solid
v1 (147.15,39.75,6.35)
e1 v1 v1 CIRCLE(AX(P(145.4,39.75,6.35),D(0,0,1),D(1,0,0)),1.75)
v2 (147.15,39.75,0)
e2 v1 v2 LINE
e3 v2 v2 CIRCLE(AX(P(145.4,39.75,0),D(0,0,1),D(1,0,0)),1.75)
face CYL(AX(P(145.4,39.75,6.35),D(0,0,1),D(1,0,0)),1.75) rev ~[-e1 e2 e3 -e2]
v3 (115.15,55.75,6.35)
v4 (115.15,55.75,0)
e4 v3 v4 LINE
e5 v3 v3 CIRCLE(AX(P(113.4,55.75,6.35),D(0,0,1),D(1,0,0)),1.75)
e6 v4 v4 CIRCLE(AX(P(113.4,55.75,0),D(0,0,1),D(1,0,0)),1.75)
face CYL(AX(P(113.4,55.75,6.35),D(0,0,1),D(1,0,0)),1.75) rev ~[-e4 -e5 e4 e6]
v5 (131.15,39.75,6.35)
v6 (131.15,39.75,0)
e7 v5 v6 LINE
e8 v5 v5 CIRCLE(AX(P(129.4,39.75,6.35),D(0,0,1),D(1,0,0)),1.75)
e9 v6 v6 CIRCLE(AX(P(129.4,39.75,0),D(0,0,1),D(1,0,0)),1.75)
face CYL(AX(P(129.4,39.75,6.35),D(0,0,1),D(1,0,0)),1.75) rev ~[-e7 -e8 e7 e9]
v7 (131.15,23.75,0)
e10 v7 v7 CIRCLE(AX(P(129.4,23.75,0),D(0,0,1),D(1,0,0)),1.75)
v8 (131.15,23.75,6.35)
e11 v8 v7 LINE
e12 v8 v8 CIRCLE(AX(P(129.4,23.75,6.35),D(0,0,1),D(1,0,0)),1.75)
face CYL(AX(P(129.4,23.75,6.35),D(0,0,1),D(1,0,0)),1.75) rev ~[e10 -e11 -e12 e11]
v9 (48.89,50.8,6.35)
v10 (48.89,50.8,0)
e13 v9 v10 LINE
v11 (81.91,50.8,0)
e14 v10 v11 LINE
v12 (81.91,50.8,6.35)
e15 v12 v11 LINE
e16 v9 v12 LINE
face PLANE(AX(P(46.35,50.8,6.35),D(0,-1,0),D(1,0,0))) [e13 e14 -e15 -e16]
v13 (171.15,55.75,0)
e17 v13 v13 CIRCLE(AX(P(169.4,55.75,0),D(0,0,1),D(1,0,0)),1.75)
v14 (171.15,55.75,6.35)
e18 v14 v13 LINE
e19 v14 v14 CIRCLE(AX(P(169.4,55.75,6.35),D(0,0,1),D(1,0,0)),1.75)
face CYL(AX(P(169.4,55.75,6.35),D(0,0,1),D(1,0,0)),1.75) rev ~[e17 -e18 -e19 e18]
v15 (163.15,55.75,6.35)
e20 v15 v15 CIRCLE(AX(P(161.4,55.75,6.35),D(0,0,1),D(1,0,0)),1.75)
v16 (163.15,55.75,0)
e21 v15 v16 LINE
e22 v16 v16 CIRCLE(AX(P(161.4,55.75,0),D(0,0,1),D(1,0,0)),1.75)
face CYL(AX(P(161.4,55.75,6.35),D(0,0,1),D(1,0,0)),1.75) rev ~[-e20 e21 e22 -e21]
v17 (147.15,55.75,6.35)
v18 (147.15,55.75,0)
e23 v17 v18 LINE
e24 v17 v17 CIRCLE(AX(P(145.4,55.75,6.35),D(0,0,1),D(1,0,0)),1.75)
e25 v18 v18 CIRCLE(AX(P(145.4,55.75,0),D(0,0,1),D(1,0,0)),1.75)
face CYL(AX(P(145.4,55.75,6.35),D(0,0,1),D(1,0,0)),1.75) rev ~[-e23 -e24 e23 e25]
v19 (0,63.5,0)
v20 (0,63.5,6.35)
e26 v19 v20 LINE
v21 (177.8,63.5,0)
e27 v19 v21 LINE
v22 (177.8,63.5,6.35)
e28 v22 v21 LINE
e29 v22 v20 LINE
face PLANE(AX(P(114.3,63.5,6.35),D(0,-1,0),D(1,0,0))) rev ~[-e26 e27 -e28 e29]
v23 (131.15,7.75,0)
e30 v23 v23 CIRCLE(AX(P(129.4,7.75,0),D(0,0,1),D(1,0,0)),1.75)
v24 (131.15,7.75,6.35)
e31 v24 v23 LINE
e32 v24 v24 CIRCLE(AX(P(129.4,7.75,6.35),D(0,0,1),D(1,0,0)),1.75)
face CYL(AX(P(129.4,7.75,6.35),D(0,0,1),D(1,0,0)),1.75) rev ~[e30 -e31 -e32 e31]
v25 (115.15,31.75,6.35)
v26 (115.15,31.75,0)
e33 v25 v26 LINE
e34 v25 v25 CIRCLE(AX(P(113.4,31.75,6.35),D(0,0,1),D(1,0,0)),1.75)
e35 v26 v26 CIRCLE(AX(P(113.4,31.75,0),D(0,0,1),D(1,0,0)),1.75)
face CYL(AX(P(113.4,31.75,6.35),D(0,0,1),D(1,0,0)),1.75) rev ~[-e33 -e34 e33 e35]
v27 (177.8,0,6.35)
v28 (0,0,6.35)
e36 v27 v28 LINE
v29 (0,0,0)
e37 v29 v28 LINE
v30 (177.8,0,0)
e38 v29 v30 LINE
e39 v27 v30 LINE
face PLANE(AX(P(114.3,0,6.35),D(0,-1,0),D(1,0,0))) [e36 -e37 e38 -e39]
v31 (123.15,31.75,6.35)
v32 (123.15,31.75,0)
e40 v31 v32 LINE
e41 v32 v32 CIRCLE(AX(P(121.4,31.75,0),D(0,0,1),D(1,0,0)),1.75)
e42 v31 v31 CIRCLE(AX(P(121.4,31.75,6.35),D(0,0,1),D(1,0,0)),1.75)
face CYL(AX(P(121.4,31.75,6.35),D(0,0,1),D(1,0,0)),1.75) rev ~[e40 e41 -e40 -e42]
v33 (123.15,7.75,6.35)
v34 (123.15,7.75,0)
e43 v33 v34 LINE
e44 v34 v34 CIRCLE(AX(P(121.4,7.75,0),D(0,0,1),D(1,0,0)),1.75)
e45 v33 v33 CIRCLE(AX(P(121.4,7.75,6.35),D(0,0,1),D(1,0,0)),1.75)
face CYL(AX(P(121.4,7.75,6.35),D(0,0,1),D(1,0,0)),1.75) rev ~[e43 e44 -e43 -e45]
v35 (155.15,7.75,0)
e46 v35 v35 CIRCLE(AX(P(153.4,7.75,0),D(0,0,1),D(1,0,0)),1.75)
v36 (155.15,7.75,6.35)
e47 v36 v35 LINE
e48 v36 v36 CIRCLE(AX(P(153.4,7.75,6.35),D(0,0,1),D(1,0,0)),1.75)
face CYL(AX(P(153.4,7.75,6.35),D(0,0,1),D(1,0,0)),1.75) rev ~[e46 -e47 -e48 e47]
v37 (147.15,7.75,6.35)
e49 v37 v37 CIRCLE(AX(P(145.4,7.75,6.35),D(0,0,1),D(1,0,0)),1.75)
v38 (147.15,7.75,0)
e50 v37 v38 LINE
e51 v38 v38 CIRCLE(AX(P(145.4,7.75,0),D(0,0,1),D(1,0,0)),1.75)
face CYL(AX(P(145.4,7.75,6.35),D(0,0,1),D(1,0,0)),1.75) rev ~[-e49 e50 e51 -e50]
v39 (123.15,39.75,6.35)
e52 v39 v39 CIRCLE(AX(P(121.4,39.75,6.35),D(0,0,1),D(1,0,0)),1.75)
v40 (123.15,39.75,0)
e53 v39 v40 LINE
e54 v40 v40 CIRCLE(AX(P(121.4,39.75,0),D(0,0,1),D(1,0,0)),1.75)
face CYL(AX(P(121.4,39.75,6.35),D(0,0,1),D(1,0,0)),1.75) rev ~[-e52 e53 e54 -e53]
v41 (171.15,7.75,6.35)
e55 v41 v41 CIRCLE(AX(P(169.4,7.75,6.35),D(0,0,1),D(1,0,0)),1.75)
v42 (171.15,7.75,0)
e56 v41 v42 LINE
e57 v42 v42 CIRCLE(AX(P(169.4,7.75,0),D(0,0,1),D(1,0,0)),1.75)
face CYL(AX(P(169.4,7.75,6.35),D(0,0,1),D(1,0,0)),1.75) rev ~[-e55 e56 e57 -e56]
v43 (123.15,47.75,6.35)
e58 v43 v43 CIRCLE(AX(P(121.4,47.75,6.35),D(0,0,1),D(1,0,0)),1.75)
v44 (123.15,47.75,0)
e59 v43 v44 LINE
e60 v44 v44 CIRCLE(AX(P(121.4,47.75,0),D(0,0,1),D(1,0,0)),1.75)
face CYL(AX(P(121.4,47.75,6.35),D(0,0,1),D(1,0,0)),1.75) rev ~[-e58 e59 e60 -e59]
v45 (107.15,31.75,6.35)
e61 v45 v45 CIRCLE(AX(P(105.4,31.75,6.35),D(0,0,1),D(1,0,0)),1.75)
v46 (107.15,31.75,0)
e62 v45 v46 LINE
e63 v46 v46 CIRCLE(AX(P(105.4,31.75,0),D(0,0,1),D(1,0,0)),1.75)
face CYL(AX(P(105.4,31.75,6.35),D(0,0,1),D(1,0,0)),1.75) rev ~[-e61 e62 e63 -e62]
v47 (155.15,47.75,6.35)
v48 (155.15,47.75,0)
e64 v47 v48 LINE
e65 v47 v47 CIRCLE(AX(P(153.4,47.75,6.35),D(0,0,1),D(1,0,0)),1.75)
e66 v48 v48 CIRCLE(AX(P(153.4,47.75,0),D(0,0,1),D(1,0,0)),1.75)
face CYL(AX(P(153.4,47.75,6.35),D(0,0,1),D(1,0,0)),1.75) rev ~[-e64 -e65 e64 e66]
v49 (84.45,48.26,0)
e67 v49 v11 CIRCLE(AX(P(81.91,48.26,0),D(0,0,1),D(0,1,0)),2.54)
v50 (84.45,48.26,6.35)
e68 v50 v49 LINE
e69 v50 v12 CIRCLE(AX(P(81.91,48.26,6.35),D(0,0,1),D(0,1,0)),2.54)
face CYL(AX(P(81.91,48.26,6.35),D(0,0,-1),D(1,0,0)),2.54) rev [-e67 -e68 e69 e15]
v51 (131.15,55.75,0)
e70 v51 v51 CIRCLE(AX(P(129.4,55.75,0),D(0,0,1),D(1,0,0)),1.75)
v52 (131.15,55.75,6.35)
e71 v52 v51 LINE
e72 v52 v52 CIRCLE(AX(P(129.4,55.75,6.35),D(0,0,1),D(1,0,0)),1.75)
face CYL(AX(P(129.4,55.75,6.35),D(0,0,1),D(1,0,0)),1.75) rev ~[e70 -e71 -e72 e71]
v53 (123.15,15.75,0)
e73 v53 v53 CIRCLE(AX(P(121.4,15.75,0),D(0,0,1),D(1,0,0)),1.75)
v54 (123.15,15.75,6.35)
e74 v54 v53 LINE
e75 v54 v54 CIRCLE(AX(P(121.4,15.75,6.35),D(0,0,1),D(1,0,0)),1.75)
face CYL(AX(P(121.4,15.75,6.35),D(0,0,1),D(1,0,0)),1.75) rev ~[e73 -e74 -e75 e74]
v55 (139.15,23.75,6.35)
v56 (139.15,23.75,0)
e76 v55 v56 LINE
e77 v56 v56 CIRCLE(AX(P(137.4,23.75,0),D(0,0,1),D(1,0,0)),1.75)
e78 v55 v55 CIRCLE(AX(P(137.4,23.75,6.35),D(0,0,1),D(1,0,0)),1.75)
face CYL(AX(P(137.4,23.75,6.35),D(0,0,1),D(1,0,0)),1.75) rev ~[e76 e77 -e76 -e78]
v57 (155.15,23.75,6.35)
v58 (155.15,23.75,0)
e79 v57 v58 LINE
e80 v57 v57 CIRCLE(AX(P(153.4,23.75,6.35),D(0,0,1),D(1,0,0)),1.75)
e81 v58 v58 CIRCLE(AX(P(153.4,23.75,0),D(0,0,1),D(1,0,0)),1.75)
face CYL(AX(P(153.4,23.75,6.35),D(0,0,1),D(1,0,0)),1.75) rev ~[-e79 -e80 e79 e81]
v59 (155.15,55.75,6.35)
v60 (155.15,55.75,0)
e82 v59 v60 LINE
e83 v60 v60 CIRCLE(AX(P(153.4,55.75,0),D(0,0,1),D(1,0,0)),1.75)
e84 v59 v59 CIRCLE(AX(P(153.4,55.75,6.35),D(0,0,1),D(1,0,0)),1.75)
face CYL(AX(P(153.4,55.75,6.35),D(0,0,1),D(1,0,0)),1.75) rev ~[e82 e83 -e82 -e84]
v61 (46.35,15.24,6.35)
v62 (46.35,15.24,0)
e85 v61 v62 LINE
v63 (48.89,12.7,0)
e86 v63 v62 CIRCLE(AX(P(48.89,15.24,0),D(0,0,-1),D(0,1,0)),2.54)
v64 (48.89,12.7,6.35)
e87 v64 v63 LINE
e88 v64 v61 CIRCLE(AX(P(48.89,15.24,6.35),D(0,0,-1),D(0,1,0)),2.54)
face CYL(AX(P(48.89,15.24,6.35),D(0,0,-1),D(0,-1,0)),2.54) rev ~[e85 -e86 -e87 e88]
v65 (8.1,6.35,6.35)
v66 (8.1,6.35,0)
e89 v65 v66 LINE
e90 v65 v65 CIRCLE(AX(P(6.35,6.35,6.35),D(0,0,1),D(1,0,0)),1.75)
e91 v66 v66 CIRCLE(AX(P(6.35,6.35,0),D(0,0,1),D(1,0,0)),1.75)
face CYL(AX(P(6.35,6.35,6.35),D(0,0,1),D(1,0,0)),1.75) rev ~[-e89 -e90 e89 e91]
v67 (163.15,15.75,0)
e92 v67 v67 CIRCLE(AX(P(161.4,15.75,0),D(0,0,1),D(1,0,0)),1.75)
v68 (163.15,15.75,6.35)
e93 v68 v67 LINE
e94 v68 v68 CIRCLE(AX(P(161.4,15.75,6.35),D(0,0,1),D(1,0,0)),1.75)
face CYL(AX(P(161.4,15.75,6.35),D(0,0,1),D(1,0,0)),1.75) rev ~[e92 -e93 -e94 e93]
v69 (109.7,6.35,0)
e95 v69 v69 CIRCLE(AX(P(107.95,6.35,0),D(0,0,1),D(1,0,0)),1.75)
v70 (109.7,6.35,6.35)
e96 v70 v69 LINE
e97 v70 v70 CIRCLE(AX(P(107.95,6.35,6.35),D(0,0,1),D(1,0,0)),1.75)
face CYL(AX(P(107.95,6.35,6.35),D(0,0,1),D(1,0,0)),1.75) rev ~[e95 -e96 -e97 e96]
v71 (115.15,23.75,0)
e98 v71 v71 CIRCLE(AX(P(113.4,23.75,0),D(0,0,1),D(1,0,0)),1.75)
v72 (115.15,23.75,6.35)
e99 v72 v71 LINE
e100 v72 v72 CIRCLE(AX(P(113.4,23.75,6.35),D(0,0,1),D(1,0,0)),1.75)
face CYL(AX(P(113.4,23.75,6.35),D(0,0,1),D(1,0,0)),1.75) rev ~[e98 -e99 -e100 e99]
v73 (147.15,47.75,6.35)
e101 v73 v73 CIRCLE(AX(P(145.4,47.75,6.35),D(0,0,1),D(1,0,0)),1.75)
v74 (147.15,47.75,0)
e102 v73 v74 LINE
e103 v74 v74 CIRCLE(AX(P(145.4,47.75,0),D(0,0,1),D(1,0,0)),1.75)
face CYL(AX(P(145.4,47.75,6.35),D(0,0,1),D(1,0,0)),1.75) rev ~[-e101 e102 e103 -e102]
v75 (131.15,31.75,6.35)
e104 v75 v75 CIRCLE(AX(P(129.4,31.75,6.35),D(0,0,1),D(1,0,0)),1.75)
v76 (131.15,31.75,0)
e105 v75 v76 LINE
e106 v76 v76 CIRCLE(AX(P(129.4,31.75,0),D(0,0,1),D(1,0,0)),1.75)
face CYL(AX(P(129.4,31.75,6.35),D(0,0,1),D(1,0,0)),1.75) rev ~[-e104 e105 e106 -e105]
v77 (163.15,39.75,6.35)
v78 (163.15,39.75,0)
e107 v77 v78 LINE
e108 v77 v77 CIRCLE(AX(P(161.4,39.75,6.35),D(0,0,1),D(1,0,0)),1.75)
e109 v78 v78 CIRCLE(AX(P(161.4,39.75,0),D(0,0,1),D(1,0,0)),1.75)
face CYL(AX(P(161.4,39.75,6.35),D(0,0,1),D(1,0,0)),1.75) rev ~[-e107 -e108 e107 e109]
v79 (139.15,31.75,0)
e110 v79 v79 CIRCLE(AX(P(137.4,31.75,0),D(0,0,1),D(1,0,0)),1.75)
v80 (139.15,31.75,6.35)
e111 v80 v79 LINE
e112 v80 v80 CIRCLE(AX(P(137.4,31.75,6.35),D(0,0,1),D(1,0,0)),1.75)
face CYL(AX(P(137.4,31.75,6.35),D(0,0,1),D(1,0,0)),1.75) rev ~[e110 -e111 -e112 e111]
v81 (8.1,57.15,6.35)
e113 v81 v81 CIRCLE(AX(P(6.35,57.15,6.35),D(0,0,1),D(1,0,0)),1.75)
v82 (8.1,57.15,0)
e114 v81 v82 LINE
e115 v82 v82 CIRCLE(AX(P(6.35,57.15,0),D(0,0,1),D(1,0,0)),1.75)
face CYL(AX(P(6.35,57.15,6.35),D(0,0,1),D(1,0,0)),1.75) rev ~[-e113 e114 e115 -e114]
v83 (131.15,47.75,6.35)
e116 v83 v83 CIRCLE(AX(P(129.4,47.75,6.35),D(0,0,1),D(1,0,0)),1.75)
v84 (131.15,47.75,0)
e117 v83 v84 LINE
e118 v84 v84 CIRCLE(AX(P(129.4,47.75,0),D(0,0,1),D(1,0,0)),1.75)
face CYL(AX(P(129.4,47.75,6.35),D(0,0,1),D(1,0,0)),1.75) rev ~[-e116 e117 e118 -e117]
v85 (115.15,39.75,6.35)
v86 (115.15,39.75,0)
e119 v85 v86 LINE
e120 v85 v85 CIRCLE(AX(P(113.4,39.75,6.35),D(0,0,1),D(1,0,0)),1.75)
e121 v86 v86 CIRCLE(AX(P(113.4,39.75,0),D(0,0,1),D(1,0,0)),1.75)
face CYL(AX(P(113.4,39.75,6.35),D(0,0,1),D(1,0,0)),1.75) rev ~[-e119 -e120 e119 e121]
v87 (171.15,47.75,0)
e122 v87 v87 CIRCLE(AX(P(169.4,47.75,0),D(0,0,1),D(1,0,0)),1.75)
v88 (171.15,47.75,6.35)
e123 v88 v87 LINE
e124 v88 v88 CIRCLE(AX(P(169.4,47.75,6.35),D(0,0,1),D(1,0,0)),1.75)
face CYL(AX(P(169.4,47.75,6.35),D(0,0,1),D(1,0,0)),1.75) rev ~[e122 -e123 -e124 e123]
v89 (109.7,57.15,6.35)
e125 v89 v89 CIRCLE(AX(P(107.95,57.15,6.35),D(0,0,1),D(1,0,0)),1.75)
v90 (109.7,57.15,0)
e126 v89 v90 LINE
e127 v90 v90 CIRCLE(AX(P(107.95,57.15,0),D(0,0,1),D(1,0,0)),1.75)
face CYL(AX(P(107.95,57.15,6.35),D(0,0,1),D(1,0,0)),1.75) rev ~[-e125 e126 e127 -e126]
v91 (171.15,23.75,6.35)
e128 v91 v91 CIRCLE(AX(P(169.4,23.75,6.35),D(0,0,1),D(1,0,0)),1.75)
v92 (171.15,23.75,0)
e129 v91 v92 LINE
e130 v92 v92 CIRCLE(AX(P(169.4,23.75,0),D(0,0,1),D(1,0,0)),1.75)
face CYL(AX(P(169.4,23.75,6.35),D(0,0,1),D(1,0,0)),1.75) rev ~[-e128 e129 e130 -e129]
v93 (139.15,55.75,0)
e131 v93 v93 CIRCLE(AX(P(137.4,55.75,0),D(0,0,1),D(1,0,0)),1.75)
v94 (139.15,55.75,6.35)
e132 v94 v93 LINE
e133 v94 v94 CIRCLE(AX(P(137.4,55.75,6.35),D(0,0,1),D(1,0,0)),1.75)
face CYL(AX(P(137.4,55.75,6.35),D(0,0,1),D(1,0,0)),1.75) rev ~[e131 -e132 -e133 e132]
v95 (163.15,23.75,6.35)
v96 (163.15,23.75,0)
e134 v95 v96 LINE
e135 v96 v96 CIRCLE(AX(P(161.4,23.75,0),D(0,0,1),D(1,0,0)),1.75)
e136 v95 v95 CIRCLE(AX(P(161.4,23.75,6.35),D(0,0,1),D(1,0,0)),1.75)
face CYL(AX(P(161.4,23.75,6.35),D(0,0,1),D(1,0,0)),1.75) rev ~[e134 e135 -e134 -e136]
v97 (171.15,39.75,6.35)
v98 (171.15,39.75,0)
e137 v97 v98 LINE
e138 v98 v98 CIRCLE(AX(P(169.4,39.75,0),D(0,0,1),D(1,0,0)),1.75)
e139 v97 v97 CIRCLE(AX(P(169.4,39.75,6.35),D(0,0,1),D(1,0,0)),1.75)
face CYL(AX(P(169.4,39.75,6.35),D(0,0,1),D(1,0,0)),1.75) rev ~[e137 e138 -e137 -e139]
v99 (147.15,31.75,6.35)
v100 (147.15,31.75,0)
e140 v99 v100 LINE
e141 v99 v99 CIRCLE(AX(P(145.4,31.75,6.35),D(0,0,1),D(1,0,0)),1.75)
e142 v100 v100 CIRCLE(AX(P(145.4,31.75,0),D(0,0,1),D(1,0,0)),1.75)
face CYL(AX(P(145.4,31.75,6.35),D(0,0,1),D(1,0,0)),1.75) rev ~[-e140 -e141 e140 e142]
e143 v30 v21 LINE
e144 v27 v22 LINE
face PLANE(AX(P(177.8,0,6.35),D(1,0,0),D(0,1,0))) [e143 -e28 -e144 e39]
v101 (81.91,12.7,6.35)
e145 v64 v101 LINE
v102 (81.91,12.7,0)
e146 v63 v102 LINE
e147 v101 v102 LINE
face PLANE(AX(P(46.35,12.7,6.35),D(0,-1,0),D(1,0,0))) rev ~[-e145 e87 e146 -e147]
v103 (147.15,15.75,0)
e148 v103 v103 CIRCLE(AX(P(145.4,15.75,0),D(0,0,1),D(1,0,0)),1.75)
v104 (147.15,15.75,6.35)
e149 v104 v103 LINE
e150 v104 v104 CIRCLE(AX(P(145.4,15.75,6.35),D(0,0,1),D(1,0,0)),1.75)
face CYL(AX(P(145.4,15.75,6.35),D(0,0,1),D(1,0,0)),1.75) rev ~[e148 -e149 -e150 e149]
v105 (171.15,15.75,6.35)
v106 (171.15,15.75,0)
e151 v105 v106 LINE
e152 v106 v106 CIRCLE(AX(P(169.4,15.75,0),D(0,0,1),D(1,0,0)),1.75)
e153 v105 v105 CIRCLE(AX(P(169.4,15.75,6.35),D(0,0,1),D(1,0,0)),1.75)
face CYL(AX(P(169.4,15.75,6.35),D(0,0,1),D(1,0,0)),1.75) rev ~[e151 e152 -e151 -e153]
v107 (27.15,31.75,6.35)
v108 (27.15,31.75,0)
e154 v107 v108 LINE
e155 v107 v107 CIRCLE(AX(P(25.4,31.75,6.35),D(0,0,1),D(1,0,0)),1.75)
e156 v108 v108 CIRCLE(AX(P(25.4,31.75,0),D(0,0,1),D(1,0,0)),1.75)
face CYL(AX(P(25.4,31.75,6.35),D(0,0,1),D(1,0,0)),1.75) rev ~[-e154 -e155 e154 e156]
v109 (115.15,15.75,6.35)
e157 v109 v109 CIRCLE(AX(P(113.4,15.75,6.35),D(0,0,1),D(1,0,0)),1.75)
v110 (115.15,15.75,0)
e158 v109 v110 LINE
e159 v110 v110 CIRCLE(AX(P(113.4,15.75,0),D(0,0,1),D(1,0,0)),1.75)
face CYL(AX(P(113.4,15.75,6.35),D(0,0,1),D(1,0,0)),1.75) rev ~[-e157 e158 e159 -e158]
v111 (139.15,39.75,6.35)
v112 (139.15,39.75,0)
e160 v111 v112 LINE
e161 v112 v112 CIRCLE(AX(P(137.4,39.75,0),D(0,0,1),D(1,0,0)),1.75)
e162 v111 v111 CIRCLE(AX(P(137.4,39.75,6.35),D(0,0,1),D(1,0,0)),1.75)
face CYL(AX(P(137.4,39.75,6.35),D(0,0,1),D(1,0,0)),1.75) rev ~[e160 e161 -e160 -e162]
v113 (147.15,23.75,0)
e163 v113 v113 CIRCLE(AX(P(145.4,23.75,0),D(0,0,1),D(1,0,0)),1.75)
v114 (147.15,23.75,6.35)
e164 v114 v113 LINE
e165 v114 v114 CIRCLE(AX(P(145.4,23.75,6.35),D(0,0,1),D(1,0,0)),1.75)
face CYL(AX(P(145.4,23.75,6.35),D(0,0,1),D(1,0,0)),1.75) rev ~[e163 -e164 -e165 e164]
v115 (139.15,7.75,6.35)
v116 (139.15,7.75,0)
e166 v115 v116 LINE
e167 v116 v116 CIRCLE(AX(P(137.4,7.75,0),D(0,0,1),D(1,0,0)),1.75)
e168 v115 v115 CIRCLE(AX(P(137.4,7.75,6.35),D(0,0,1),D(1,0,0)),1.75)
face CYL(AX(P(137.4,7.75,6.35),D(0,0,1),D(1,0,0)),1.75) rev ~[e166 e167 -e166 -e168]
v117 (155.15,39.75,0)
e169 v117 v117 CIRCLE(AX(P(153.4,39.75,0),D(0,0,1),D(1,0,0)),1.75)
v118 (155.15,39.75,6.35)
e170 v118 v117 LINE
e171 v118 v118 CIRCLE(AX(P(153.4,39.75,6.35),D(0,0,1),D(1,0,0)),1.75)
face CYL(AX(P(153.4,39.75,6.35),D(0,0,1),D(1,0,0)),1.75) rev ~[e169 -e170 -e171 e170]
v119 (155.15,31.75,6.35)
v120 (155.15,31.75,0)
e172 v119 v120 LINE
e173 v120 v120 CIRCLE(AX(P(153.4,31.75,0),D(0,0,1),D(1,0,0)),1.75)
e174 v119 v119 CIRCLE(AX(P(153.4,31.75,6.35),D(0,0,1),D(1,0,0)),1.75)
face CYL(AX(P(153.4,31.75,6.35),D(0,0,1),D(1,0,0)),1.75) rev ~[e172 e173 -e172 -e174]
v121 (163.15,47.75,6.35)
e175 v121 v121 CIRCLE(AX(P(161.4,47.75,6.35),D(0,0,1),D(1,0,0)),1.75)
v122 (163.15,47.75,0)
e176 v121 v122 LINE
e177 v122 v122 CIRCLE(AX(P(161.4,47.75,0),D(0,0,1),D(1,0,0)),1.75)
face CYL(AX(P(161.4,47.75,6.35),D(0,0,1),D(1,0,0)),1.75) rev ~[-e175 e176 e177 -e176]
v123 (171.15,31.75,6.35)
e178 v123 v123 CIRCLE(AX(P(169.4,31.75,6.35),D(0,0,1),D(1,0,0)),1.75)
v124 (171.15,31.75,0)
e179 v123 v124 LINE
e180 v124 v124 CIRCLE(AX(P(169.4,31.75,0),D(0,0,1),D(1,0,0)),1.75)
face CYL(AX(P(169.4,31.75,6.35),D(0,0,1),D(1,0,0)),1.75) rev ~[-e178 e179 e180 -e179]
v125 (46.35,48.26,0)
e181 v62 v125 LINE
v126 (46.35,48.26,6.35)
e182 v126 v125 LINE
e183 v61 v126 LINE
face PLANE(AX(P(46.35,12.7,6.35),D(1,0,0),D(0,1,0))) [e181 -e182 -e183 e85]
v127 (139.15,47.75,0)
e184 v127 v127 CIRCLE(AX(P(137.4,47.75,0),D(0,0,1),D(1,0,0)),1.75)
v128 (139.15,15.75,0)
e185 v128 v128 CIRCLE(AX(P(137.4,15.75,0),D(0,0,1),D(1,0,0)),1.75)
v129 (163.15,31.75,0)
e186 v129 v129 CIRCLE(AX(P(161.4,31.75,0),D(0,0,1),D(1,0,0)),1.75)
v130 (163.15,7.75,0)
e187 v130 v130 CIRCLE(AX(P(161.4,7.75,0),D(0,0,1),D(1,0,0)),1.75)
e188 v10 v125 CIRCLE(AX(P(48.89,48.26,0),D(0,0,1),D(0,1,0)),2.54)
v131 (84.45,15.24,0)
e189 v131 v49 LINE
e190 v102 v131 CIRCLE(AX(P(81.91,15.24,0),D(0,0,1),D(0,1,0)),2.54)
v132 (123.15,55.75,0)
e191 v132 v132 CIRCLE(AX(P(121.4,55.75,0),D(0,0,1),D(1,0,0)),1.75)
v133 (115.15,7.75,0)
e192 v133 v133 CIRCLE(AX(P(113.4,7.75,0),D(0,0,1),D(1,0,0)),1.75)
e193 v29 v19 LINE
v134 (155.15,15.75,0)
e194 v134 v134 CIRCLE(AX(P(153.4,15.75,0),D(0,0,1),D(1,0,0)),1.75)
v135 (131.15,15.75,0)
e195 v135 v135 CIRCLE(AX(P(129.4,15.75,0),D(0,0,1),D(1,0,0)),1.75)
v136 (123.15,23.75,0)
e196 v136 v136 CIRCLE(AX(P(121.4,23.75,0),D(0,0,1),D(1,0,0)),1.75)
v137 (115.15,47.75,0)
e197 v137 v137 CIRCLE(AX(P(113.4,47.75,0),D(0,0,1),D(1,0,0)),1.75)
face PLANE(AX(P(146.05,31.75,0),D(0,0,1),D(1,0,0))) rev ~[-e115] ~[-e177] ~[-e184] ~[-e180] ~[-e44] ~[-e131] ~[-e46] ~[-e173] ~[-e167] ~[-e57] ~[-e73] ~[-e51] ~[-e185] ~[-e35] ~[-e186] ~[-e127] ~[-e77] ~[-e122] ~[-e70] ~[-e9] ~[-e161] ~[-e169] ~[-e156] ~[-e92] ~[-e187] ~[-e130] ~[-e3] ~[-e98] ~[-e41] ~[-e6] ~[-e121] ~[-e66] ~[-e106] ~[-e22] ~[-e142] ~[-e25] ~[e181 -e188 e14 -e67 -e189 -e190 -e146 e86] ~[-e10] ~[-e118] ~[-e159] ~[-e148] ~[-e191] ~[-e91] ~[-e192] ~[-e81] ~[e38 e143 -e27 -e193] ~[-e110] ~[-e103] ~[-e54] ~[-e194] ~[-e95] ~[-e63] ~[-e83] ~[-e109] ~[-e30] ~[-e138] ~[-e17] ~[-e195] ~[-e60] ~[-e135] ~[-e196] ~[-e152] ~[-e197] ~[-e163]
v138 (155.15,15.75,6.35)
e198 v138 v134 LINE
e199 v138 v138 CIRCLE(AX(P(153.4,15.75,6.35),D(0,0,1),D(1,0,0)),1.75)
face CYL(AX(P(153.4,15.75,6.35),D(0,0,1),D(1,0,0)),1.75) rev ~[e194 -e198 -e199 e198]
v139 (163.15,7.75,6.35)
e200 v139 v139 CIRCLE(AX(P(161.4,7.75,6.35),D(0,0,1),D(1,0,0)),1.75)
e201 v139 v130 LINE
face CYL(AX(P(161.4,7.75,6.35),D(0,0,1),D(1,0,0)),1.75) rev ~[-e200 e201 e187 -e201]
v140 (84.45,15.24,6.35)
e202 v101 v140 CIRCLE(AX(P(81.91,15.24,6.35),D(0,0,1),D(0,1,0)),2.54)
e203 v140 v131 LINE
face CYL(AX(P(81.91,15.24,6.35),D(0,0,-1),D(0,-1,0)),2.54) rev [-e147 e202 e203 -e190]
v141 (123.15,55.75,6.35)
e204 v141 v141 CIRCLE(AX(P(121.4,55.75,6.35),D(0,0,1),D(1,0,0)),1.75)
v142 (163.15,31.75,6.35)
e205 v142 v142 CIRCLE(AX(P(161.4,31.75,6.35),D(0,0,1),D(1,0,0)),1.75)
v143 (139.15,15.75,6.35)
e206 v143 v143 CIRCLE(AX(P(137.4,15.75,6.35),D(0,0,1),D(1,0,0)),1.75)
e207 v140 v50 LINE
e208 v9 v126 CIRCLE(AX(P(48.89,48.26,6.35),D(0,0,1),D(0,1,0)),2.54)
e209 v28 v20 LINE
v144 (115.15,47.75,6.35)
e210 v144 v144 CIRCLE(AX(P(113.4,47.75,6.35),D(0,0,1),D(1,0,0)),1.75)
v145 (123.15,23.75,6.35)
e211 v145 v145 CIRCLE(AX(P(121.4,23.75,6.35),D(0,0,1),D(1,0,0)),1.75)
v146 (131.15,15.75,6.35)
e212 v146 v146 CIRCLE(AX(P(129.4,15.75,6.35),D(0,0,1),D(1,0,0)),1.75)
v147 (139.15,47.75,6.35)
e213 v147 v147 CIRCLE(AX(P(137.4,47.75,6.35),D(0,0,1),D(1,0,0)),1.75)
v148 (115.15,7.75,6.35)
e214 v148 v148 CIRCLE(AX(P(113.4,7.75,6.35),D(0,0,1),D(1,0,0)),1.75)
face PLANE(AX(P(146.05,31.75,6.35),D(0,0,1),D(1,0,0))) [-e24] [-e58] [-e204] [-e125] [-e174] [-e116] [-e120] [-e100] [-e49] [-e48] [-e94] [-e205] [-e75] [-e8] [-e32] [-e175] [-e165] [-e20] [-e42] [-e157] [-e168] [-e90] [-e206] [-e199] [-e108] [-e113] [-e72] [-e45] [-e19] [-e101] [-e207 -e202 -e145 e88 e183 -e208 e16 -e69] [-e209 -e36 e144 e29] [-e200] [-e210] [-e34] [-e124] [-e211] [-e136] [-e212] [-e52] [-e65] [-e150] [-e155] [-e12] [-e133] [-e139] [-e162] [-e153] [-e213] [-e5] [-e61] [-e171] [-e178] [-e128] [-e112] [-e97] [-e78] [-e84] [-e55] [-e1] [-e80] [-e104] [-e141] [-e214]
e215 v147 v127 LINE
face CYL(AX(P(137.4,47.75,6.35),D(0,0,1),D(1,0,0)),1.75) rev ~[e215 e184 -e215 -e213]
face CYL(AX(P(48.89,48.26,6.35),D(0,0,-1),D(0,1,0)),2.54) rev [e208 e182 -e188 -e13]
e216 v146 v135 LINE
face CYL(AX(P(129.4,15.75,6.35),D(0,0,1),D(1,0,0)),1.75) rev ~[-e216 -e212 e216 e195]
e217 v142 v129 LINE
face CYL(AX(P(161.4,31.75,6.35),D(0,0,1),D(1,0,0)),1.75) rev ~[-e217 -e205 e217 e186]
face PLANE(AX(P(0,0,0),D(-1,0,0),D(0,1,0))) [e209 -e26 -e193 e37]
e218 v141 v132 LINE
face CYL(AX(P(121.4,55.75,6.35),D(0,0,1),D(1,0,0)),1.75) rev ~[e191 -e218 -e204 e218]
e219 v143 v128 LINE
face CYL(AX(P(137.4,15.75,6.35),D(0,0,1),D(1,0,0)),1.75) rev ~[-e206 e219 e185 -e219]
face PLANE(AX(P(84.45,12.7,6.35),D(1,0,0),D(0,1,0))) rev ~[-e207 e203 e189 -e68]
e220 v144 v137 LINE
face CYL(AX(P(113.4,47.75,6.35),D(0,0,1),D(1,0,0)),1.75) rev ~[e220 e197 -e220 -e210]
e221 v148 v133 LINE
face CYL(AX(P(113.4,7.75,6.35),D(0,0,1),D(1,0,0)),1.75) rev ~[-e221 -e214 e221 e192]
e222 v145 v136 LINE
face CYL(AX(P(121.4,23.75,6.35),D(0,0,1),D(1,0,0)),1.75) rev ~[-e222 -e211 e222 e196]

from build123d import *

# Parameters (mm, degrees)
SKETCH2_W            = 114.3
SKETCH2_H            = 63.5
BOSS_EXTRUDE1_DEPTH  = 6.35
SKETCH3_R            = 1.75
CUT_EXTRUDE1_DEPTH   = 7.35
SKETCH4_W            = 63.5
SKETCH4_H            = 63.5
BOSS_EXTRUDE2_DEPTH  = 6.35
SKETCH5_R            = 1.75
CUT_EXTRUDE2_DEPTH   = 7.35
LPATTERN1_COUNT      = 8
LPATTERN1_PITCH      = 8
LPATTERN1_COUNT_DIR2 = 4
LPATTERN1_PITCH_DIR2 = 8
LPATTERN2_COUNT      = 8
LPATTERN2_PITCH      = 8
LPATTERN2_COUNT_DIR2 = 4
LPATTERN2_PITCH_DIR2 = 8
SKETCH6_W            = 38.1
SKETCH6_H            = 38.1
CUT_EXTRUDE3_DEPTH   = 7.35
FILLET1_R            = 2.54


with BuildPart() as part:
    # Sketch2 → Boss-Extrude1 (new body)
    with BuildSketch(Plane.XY):
        with Locations((57.15, 31.75)):
            Rectangle(SKETCH2_W, SKETCH2_H)
    extrude(amount=BOSS_EXTRUDE1_DEPTH)

    # Sketch3 → Cut-Extrude1 (cut, through all)
    with BuildSketch(Plane.XY.offset(6.35)):
        with Locations((25.4, 31.75)):
            Circle(SKETCH3_R)
        with Locations((105.4, 31.75)):
            Circle(SKETCH3_R)
        with Locations((6.35, 57.15)):
            Circle(SKETCH3_R)
        with Locations((6.35, 6.35)):
            Circle(SKETCH3_R)
        with Locations((107.95, 6.35)):
            Circle(SKETCH3_R)
        with Locations((107.95, 57.15)):
            Circle(SKETCH3_R)
    extrude(amount=-CUT_EXTRUDE1_DEPTH, mode=Mode.SUBTRACT)

    # Sketch4 → Boss-Extrude2 (add, through all)
    with BuildSketch(Plane.XY.offset(6.35)):
        with Locations((146.05, 31.75)):
            Rectangle(SKETCH4_W, SKETCH4_H)
    extrude(amount=-BOSS_EXTRUDE2_DEPTH)

    # Sketch5 → Cut-Extrude2 (cut, through all)
    with BuildSketch(Plane.XY.offset(6.35)):
        with Locations((113.4, 31.75)):
            Circle(SKETCH5_R)
    cut_extrude2 = extrude(amount=-CUT_EXTRUDE2_DEPTH, mode=Mode.SUBTRACT)

    # LPattern1: Cut-Extrude2 8 × 4
    with Locations(*[(i * LPATTERN1_PITCH, -j * LPATTERN1_PITCH_DIR2, 0) for i in range(LPATTERN1_COUNT) for j in range(LPATTERN1_COUNT_DIR2) if (i, j) != (0, 0)]):
        add(cut_extrude2, mode=Mode.SUBTRACT)

    # LPattern2: Cut-Extrude2 8 × 4
    with Locations(*[(i * LPATTERN2_PITCH, j * LPATTERN2_PITCH_DIR2, 0) for i in range(LPATTERN2_COUNT) for j in range(LPATTERN2_COUNT_DIR2) if (i, j) != (0, 0)]):
        add(cut_extrude2, mode=Mode.SUBTRACT)

    # Sketch6 → Cut-Extrude3 (cut, through all)
    with BuildSketch(Plane.XY.offset(6.35)):
        with Locations((65.4, 31.75)):
            Rectangle(SKETCH6_W, SKETCH6_H)
    extrude(amount=-CUT_EXTRUDE3_DEPTH, mode=Mode.SUBTRACT)

    # Fillet1
    fillet1_edges = [part.edges().sort_by_distance(p)[0] for p in [
        (46.35, 12.7, 3.175),
        (46.35, 50.8, 3.175),
        (84.45, 50.8, 3.175),
        (84.45, 12.7, 3.175),
    ]]
    fillet(fillet1_edges, radius=FILLET1_R)


solid = part.part
